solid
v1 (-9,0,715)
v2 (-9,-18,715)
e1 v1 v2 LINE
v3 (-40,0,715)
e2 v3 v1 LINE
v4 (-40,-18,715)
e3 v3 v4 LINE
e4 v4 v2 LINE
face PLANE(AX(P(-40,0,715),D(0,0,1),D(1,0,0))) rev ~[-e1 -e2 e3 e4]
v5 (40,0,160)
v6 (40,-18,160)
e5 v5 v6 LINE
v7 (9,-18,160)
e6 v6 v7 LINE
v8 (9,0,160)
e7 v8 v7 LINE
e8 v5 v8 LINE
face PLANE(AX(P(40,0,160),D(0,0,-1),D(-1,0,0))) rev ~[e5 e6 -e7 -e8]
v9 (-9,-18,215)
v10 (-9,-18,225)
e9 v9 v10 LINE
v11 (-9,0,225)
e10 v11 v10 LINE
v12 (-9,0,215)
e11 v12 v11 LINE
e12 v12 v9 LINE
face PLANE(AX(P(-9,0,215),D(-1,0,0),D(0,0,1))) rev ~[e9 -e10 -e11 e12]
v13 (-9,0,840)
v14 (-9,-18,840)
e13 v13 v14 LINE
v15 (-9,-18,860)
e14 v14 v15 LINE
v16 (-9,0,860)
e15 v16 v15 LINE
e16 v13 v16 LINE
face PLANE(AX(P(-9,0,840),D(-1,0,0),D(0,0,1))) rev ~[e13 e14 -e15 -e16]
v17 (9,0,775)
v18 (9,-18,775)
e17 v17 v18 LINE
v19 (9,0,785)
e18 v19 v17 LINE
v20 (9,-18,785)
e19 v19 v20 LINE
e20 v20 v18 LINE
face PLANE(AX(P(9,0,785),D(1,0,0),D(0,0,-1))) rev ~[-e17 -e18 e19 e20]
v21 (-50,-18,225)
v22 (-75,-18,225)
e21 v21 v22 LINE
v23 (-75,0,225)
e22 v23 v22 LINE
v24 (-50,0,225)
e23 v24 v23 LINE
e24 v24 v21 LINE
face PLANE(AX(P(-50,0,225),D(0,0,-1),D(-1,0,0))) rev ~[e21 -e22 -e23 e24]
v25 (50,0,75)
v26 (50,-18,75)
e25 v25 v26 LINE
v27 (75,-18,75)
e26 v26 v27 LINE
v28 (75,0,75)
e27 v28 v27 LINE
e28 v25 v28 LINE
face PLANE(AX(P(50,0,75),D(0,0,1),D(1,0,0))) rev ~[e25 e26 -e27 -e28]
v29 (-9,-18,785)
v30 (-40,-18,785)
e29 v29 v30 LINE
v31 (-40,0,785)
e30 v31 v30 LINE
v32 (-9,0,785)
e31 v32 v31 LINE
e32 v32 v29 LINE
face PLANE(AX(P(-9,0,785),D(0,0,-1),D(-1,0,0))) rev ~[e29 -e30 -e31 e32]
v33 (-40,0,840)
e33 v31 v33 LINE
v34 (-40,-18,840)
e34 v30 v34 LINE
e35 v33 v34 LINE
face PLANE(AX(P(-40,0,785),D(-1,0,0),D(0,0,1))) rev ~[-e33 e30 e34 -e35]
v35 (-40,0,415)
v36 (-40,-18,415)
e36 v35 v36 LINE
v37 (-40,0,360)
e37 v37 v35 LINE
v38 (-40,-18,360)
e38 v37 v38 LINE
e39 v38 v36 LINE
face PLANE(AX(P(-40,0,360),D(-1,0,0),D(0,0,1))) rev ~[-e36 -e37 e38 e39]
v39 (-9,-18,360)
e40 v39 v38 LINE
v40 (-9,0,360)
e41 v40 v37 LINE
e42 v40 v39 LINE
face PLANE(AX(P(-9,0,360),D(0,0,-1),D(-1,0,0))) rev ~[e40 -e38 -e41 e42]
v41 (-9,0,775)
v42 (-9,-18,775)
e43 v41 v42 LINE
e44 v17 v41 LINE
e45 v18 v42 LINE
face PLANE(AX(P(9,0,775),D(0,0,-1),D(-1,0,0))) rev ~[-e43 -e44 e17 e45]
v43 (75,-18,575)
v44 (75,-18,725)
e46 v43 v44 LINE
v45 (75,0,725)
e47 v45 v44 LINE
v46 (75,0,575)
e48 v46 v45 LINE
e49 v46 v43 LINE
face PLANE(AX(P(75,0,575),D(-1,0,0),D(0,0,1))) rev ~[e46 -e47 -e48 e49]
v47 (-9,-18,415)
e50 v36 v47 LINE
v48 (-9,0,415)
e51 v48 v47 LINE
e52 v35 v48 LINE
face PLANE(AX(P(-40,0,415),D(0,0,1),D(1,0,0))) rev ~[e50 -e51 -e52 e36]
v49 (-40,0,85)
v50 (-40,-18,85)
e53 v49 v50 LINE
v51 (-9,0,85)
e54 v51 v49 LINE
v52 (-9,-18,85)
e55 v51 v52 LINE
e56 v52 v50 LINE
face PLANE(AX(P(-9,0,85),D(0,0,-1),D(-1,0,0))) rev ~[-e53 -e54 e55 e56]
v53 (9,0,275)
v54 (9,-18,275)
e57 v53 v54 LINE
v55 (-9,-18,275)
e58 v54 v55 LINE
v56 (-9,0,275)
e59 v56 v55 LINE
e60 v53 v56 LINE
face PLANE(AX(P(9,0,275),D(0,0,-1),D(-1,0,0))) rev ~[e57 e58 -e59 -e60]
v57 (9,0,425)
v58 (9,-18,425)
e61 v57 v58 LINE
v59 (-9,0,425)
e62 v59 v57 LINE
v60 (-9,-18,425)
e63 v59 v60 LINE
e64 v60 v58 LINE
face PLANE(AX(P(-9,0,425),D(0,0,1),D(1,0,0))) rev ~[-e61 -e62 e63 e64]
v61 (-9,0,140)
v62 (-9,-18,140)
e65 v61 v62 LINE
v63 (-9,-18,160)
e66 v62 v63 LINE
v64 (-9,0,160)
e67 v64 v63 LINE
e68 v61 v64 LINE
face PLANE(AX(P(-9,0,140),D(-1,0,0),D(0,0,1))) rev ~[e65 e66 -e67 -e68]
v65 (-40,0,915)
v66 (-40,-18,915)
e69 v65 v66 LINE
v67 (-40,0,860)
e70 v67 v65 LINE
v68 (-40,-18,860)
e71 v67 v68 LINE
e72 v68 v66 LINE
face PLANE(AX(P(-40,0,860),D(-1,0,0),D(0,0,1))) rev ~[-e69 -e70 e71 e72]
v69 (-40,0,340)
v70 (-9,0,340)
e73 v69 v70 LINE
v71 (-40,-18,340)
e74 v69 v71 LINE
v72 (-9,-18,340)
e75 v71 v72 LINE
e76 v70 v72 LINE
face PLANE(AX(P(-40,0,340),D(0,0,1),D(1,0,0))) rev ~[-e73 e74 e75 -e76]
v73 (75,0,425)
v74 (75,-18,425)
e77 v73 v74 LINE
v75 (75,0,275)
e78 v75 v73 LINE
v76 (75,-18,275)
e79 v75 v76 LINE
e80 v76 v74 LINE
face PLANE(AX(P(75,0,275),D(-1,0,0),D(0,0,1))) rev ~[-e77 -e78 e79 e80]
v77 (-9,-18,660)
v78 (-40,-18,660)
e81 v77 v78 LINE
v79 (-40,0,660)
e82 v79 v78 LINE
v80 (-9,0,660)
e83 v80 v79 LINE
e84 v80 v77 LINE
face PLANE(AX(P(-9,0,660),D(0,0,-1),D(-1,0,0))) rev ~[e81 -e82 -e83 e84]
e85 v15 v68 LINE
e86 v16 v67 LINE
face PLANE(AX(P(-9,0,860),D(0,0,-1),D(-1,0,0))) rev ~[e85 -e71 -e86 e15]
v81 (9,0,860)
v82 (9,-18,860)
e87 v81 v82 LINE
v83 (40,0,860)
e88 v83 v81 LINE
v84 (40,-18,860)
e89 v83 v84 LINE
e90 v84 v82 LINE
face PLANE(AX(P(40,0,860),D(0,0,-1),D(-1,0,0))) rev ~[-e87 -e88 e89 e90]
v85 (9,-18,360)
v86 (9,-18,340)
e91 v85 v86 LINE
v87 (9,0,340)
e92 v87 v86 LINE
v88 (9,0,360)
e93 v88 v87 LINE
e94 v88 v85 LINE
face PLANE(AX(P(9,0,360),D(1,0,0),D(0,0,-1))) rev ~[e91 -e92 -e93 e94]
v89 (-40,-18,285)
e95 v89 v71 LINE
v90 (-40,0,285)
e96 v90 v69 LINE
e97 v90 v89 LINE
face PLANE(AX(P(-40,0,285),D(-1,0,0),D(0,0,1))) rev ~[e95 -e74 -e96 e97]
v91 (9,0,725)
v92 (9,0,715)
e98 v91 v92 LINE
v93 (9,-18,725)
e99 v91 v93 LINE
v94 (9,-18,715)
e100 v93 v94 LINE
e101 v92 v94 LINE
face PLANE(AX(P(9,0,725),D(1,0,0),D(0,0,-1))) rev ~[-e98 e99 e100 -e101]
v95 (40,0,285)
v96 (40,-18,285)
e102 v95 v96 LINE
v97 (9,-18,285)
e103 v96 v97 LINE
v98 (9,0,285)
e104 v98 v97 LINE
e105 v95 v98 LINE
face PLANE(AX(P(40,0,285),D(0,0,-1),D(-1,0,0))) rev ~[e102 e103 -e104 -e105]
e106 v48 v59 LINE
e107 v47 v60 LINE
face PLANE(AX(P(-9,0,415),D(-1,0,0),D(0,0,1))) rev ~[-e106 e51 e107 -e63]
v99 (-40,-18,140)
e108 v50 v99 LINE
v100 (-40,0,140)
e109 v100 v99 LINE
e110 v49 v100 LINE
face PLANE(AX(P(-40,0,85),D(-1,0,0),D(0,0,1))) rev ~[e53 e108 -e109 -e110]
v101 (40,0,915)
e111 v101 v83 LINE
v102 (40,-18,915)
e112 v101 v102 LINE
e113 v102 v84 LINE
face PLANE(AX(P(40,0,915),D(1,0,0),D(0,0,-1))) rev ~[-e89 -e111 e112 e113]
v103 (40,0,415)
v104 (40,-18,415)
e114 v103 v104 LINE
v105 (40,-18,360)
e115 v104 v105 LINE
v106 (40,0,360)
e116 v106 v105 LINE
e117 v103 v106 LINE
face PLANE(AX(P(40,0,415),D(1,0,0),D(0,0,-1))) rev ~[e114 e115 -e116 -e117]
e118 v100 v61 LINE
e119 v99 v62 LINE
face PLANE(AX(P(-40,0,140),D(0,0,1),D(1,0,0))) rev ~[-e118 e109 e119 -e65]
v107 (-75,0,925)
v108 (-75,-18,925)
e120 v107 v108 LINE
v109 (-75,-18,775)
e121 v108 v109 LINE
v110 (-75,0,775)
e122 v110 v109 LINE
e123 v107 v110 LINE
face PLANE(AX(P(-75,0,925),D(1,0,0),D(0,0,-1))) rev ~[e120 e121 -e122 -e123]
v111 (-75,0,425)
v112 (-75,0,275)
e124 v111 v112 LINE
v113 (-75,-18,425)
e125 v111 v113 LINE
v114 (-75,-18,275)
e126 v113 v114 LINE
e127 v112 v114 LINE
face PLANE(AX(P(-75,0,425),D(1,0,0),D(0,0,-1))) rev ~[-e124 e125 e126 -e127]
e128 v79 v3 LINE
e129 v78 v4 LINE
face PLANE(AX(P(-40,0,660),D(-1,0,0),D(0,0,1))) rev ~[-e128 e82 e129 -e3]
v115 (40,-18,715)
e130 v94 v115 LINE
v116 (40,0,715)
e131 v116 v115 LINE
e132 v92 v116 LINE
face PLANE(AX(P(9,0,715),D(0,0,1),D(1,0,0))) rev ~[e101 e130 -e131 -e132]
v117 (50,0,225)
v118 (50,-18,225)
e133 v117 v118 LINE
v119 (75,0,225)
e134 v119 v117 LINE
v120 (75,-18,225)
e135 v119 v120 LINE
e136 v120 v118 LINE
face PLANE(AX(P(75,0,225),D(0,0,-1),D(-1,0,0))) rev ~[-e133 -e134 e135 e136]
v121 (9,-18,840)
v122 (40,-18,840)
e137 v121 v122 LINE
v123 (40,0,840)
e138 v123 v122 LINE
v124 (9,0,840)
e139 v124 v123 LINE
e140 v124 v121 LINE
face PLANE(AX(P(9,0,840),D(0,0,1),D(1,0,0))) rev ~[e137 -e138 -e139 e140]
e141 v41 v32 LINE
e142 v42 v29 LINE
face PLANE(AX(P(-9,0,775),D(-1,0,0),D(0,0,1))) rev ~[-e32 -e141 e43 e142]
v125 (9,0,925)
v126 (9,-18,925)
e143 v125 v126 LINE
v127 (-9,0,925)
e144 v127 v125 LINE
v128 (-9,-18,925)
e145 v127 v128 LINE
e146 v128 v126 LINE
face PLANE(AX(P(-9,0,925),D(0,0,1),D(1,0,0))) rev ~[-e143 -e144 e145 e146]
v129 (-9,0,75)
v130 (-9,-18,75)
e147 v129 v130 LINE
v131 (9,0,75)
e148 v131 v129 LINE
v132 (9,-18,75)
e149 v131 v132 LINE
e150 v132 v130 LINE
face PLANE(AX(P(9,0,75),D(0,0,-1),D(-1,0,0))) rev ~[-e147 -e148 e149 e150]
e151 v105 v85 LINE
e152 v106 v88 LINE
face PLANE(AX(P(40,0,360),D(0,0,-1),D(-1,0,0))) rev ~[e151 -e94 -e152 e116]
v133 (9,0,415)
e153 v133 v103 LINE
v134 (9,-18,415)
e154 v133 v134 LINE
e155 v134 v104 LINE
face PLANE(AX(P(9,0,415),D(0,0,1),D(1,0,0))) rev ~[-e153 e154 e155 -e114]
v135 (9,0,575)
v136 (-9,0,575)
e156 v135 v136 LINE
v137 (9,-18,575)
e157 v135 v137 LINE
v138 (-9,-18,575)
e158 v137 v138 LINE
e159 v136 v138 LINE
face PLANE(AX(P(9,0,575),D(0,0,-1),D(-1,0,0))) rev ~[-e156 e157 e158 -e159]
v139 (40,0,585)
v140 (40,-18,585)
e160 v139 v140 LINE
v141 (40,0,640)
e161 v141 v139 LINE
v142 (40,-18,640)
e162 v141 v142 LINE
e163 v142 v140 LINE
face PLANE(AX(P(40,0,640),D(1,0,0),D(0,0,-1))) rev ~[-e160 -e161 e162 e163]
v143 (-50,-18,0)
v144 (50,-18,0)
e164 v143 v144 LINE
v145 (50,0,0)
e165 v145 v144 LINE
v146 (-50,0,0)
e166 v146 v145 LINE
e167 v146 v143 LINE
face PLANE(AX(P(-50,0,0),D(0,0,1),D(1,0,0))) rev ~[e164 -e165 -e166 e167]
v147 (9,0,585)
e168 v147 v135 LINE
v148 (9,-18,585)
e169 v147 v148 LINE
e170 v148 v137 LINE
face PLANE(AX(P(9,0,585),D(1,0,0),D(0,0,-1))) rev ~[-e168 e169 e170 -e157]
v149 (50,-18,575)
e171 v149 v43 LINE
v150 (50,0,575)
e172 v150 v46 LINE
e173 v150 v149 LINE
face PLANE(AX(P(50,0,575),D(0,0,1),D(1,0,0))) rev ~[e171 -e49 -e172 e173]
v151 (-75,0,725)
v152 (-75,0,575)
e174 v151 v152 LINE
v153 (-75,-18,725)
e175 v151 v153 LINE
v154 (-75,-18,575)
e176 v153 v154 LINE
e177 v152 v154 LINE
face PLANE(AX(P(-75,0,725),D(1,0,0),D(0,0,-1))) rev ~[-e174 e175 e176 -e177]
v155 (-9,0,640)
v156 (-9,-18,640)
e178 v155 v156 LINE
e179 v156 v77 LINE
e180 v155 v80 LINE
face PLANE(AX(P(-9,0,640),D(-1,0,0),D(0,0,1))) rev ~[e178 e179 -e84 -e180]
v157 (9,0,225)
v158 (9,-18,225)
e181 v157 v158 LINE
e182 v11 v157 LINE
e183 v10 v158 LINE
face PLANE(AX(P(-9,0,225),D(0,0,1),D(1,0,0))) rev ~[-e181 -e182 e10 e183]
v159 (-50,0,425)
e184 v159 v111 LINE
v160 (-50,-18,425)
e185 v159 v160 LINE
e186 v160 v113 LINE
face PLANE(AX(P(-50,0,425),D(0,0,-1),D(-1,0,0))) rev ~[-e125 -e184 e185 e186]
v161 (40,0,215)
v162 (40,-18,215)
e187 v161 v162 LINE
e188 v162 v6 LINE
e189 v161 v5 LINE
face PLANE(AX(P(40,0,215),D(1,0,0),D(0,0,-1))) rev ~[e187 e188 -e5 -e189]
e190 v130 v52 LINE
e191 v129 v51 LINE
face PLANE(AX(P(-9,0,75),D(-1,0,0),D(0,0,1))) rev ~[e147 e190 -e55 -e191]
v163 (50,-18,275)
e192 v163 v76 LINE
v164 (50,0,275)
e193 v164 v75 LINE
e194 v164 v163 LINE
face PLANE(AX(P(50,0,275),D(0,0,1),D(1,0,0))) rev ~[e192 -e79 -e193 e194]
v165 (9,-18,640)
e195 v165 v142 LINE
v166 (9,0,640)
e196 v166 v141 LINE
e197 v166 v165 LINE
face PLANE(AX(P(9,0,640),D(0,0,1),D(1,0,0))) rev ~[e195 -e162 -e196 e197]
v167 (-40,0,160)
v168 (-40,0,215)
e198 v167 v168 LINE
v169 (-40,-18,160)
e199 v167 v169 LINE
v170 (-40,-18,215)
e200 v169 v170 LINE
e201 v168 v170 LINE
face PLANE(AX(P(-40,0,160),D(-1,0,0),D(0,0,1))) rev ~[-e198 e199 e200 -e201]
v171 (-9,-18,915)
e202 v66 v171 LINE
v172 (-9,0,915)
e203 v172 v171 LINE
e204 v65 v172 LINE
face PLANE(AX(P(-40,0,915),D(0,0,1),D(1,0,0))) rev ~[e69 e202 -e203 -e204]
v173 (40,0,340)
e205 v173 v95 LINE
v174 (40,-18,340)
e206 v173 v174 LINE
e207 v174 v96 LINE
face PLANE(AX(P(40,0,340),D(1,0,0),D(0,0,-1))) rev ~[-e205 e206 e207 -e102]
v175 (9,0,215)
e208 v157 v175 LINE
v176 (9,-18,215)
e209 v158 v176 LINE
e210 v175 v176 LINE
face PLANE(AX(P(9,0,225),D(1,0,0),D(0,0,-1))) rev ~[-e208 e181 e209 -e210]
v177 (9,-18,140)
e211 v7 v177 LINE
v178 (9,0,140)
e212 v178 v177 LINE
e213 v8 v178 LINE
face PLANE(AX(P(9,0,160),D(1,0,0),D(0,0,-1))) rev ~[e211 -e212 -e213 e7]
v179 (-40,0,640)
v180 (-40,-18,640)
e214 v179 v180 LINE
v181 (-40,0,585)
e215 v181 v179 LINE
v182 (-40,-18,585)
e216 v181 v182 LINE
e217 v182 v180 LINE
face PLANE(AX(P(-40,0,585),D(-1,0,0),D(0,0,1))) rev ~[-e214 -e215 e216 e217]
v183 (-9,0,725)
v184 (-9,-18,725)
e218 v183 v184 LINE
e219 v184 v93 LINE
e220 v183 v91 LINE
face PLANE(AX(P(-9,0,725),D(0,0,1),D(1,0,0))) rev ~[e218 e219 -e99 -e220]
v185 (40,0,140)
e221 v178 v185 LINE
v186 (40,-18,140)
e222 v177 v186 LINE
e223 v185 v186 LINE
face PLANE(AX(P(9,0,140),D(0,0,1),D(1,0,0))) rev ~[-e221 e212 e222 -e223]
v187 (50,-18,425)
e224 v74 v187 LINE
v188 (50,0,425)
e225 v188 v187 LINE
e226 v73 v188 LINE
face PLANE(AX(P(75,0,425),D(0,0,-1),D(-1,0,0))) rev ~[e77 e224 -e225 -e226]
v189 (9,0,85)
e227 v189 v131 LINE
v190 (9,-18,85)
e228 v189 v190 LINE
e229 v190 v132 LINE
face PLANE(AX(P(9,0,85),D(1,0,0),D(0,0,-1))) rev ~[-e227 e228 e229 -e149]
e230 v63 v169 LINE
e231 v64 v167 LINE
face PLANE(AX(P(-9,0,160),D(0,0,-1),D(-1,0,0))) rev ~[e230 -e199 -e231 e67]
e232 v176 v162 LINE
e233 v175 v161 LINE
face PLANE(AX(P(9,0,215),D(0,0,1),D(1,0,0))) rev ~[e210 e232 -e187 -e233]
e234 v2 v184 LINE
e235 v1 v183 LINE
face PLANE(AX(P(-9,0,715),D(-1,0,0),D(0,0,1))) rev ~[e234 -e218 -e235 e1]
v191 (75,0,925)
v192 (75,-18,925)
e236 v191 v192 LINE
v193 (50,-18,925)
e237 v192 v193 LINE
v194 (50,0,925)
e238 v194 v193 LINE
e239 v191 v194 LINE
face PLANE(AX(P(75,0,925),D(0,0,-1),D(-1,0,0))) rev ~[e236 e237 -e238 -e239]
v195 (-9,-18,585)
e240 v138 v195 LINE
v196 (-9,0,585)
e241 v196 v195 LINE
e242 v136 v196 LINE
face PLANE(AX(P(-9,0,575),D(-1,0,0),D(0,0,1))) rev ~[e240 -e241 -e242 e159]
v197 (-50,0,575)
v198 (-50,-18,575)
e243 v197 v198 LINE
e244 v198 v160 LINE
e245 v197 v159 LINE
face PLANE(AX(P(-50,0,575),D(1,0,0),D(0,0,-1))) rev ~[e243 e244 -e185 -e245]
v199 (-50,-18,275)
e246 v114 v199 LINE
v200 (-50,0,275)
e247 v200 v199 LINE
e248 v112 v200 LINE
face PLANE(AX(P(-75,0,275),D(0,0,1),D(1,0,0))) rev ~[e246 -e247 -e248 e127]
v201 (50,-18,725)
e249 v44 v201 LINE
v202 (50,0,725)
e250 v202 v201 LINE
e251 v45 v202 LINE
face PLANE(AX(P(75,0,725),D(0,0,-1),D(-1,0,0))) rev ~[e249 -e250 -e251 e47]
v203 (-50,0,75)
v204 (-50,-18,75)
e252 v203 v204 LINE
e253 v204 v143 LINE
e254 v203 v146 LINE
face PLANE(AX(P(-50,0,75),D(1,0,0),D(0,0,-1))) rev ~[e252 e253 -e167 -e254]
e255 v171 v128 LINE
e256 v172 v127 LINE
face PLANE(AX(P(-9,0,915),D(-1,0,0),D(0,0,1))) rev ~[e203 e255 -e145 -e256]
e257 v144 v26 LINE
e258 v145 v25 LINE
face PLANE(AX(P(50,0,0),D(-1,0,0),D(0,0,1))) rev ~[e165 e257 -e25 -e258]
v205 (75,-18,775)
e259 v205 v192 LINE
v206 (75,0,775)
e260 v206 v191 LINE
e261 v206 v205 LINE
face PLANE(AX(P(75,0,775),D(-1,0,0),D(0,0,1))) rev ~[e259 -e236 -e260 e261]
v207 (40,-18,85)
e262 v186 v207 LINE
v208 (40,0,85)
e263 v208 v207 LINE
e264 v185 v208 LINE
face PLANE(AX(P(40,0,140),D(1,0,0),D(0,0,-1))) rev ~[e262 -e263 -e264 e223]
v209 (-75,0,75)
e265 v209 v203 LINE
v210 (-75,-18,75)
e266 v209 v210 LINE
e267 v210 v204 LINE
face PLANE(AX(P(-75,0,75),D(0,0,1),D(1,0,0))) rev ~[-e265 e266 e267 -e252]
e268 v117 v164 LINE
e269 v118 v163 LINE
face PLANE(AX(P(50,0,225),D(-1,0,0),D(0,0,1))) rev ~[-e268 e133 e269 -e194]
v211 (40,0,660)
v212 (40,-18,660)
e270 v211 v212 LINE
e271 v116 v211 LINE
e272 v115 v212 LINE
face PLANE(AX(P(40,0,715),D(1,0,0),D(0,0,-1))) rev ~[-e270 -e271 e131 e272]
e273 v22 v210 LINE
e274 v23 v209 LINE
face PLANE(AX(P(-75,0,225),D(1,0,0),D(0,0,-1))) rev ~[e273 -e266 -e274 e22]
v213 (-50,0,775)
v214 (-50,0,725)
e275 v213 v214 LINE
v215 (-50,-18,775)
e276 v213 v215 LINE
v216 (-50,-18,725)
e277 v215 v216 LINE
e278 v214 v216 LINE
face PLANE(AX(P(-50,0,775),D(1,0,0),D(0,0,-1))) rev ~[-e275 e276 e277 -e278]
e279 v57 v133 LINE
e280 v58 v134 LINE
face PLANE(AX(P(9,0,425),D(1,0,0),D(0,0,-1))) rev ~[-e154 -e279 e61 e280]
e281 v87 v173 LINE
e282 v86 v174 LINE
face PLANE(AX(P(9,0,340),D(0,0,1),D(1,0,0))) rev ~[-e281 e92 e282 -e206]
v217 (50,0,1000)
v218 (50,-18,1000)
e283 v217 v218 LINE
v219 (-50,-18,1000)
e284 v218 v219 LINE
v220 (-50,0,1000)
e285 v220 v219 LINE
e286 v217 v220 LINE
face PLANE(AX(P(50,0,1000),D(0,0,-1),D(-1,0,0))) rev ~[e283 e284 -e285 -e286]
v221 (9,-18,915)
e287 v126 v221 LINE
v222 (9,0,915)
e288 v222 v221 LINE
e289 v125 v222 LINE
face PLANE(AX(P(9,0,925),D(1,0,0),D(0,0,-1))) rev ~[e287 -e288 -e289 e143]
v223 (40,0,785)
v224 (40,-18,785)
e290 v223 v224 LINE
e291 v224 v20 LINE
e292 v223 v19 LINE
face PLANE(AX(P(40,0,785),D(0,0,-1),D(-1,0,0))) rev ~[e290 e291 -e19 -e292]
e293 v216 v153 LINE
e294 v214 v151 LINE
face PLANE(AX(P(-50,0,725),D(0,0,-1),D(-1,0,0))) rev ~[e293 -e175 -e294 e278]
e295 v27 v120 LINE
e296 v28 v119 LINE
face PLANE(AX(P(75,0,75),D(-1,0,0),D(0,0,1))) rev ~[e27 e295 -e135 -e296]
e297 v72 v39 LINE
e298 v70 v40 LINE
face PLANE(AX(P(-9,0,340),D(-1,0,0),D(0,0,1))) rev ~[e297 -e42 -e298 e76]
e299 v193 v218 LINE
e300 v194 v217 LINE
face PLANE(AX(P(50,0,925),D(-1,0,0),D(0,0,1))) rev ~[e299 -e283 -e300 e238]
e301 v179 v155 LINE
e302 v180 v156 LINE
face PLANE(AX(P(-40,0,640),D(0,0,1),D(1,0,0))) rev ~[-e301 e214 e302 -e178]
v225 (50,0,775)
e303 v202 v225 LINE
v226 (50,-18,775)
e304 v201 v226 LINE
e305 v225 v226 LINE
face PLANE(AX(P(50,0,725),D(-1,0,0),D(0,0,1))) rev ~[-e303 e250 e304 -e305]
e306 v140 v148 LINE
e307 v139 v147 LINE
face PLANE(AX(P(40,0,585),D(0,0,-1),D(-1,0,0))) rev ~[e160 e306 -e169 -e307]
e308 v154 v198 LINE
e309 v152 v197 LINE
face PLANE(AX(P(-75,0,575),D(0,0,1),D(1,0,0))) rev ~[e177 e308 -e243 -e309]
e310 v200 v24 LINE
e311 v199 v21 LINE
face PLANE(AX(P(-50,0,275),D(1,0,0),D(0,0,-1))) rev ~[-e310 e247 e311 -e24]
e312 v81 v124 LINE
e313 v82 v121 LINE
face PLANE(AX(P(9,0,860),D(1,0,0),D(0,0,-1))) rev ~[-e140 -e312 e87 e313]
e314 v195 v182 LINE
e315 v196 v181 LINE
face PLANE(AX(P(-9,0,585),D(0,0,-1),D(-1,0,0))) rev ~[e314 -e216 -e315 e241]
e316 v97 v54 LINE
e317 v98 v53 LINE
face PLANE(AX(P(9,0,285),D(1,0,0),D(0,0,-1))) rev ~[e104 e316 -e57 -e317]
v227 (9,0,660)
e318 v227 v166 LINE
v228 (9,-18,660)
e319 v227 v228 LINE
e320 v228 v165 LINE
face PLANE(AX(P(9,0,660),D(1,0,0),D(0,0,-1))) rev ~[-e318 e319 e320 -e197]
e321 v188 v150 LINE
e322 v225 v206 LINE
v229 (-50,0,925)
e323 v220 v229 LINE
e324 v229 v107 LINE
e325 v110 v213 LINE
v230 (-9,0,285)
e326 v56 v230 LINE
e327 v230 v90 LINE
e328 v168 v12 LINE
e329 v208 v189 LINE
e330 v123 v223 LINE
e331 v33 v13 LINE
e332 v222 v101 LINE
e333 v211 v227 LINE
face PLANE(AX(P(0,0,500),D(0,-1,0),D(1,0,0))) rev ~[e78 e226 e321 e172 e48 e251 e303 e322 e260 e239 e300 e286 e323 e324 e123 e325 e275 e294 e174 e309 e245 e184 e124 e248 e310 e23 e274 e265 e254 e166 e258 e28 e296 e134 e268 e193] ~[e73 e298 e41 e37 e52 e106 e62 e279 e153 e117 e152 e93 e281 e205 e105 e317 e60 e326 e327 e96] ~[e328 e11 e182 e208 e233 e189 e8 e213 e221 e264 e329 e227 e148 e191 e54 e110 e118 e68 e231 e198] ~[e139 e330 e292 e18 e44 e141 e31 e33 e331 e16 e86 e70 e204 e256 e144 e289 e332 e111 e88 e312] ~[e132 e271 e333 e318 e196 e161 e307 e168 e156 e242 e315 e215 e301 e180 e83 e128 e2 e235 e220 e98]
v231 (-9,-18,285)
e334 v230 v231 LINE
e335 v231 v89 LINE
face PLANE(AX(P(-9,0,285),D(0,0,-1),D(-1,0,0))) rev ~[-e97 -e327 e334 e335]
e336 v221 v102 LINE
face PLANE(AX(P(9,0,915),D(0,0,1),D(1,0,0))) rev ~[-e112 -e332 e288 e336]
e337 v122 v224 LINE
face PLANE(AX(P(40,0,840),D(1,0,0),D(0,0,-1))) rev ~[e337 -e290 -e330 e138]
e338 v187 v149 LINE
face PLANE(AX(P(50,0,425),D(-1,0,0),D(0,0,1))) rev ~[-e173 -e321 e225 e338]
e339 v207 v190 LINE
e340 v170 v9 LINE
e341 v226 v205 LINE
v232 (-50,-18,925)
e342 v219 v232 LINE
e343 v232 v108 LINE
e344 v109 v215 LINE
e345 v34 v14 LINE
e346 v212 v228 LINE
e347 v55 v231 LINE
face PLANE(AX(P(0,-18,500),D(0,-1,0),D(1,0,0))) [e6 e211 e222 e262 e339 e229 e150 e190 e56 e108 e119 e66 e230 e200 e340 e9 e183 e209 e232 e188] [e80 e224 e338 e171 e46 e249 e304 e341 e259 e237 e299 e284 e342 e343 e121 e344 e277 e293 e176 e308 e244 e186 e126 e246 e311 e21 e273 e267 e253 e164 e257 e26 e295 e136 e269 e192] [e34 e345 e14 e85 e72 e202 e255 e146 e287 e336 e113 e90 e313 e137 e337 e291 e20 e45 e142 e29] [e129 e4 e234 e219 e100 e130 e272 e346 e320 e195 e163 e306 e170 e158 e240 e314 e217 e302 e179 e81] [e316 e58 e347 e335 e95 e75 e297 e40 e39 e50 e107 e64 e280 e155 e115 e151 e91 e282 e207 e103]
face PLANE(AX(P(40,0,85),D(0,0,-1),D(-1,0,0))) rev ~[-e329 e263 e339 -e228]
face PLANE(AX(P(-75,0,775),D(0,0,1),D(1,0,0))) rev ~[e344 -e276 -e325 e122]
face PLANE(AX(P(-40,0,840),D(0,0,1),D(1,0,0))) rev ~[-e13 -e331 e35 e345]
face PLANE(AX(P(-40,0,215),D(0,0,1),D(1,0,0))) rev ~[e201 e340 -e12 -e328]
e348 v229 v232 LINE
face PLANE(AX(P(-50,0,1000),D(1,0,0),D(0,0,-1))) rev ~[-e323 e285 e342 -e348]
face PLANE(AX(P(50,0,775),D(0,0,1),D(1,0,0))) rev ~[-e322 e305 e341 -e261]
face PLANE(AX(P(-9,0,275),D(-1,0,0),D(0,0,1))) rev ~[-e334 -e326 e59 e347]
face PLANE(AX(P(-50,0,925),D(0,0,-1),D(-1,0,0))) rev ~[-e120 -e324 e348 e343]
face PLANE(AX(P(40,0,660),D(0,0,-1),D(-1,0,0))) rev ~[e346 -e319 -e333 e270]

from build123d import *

# Parameters (mm, degrees)
F1_DEPTH = 18


with BuildPart() as f1:
    # F0 (on Front) → F1 (new body)
    with BuildSketch(Plane.XZ):
        Polygon((-50, 75), (-50, 0), (50, 0), (50, 75), (75, 75), (75, 225), (50, 225), (50, 275), (75, 275), (75, 425), (50, 425), (50, 575), (75, 575), (75, 725), (50, 725), (50, 775), (75, 775), (75, 925), (50, 925), (50, 1000), (-50, 1000), (-50, 925), (-75, 925), (-75, 775), (-50, 775), (-50, 725), (-75, 725), (-75, 575), (-50, 575), (-50, 425), (-75, 425), (-75, 275), (-50, 275), (-50, 225), (-75, 225), (-75, 75), align=None)
        Polygon((-9, 215), (-9, 225), (9, 225), (9, 215), (40, 215), (40, 160), (9, 160), (9, 140), (40, 140), (40, 85), (9, 85), (9, 75), (-9, 75), (-9, 85), (-40, 85), (-40, 140), (-9, 140), (-9, 160), (-40, 160), (-40, 215), align=None, mode=Mode.SUBTRACT)
        Polygon((-9, 415), (-9, 425), (9, 425), (9, 415), (40, 415), (40, 360), (9, 360), (9, 340), (40, 340), (40, 285), (9, 285), (9, 275), (-9, 275), (-9, 285), (-40, 285), (-40, 340), (-9, 340), (-9, 360), (-40, 360), (-40, 415), align=None, mode=Mode.SUBTRACT)
        Polygon((-9, 715), (-9, 725), (9, 725), (9, 715), (40, 715), (40, 660), (9, 660), (9, 640), (40, 640), (40, 585), (9, 585), (9, 575), (-9, 575), (-9, 585), (-40, 585), (-40, 640), (-9, 640), (-9, 660), (-40, 660), (-40, 715), align=None, mode=Mode.SUBTRACT)
        Polygon((-9, 915), (-9, 925), (9, 925), (9, 915), (40, 915), (40, 860), (9, 860), (9, 840), (40, 840), (40, 785), (9, 785), (9, 775), (-9, 775), (-9, 785), (-40, 785), (-40, 840), (-9, 840), (-9, 860), (-40, 860), (-40, 915), align=None, mode=Mode.SUBTRACT)
    extrude(amount=F1_DEPTH)


solid = f1.part
